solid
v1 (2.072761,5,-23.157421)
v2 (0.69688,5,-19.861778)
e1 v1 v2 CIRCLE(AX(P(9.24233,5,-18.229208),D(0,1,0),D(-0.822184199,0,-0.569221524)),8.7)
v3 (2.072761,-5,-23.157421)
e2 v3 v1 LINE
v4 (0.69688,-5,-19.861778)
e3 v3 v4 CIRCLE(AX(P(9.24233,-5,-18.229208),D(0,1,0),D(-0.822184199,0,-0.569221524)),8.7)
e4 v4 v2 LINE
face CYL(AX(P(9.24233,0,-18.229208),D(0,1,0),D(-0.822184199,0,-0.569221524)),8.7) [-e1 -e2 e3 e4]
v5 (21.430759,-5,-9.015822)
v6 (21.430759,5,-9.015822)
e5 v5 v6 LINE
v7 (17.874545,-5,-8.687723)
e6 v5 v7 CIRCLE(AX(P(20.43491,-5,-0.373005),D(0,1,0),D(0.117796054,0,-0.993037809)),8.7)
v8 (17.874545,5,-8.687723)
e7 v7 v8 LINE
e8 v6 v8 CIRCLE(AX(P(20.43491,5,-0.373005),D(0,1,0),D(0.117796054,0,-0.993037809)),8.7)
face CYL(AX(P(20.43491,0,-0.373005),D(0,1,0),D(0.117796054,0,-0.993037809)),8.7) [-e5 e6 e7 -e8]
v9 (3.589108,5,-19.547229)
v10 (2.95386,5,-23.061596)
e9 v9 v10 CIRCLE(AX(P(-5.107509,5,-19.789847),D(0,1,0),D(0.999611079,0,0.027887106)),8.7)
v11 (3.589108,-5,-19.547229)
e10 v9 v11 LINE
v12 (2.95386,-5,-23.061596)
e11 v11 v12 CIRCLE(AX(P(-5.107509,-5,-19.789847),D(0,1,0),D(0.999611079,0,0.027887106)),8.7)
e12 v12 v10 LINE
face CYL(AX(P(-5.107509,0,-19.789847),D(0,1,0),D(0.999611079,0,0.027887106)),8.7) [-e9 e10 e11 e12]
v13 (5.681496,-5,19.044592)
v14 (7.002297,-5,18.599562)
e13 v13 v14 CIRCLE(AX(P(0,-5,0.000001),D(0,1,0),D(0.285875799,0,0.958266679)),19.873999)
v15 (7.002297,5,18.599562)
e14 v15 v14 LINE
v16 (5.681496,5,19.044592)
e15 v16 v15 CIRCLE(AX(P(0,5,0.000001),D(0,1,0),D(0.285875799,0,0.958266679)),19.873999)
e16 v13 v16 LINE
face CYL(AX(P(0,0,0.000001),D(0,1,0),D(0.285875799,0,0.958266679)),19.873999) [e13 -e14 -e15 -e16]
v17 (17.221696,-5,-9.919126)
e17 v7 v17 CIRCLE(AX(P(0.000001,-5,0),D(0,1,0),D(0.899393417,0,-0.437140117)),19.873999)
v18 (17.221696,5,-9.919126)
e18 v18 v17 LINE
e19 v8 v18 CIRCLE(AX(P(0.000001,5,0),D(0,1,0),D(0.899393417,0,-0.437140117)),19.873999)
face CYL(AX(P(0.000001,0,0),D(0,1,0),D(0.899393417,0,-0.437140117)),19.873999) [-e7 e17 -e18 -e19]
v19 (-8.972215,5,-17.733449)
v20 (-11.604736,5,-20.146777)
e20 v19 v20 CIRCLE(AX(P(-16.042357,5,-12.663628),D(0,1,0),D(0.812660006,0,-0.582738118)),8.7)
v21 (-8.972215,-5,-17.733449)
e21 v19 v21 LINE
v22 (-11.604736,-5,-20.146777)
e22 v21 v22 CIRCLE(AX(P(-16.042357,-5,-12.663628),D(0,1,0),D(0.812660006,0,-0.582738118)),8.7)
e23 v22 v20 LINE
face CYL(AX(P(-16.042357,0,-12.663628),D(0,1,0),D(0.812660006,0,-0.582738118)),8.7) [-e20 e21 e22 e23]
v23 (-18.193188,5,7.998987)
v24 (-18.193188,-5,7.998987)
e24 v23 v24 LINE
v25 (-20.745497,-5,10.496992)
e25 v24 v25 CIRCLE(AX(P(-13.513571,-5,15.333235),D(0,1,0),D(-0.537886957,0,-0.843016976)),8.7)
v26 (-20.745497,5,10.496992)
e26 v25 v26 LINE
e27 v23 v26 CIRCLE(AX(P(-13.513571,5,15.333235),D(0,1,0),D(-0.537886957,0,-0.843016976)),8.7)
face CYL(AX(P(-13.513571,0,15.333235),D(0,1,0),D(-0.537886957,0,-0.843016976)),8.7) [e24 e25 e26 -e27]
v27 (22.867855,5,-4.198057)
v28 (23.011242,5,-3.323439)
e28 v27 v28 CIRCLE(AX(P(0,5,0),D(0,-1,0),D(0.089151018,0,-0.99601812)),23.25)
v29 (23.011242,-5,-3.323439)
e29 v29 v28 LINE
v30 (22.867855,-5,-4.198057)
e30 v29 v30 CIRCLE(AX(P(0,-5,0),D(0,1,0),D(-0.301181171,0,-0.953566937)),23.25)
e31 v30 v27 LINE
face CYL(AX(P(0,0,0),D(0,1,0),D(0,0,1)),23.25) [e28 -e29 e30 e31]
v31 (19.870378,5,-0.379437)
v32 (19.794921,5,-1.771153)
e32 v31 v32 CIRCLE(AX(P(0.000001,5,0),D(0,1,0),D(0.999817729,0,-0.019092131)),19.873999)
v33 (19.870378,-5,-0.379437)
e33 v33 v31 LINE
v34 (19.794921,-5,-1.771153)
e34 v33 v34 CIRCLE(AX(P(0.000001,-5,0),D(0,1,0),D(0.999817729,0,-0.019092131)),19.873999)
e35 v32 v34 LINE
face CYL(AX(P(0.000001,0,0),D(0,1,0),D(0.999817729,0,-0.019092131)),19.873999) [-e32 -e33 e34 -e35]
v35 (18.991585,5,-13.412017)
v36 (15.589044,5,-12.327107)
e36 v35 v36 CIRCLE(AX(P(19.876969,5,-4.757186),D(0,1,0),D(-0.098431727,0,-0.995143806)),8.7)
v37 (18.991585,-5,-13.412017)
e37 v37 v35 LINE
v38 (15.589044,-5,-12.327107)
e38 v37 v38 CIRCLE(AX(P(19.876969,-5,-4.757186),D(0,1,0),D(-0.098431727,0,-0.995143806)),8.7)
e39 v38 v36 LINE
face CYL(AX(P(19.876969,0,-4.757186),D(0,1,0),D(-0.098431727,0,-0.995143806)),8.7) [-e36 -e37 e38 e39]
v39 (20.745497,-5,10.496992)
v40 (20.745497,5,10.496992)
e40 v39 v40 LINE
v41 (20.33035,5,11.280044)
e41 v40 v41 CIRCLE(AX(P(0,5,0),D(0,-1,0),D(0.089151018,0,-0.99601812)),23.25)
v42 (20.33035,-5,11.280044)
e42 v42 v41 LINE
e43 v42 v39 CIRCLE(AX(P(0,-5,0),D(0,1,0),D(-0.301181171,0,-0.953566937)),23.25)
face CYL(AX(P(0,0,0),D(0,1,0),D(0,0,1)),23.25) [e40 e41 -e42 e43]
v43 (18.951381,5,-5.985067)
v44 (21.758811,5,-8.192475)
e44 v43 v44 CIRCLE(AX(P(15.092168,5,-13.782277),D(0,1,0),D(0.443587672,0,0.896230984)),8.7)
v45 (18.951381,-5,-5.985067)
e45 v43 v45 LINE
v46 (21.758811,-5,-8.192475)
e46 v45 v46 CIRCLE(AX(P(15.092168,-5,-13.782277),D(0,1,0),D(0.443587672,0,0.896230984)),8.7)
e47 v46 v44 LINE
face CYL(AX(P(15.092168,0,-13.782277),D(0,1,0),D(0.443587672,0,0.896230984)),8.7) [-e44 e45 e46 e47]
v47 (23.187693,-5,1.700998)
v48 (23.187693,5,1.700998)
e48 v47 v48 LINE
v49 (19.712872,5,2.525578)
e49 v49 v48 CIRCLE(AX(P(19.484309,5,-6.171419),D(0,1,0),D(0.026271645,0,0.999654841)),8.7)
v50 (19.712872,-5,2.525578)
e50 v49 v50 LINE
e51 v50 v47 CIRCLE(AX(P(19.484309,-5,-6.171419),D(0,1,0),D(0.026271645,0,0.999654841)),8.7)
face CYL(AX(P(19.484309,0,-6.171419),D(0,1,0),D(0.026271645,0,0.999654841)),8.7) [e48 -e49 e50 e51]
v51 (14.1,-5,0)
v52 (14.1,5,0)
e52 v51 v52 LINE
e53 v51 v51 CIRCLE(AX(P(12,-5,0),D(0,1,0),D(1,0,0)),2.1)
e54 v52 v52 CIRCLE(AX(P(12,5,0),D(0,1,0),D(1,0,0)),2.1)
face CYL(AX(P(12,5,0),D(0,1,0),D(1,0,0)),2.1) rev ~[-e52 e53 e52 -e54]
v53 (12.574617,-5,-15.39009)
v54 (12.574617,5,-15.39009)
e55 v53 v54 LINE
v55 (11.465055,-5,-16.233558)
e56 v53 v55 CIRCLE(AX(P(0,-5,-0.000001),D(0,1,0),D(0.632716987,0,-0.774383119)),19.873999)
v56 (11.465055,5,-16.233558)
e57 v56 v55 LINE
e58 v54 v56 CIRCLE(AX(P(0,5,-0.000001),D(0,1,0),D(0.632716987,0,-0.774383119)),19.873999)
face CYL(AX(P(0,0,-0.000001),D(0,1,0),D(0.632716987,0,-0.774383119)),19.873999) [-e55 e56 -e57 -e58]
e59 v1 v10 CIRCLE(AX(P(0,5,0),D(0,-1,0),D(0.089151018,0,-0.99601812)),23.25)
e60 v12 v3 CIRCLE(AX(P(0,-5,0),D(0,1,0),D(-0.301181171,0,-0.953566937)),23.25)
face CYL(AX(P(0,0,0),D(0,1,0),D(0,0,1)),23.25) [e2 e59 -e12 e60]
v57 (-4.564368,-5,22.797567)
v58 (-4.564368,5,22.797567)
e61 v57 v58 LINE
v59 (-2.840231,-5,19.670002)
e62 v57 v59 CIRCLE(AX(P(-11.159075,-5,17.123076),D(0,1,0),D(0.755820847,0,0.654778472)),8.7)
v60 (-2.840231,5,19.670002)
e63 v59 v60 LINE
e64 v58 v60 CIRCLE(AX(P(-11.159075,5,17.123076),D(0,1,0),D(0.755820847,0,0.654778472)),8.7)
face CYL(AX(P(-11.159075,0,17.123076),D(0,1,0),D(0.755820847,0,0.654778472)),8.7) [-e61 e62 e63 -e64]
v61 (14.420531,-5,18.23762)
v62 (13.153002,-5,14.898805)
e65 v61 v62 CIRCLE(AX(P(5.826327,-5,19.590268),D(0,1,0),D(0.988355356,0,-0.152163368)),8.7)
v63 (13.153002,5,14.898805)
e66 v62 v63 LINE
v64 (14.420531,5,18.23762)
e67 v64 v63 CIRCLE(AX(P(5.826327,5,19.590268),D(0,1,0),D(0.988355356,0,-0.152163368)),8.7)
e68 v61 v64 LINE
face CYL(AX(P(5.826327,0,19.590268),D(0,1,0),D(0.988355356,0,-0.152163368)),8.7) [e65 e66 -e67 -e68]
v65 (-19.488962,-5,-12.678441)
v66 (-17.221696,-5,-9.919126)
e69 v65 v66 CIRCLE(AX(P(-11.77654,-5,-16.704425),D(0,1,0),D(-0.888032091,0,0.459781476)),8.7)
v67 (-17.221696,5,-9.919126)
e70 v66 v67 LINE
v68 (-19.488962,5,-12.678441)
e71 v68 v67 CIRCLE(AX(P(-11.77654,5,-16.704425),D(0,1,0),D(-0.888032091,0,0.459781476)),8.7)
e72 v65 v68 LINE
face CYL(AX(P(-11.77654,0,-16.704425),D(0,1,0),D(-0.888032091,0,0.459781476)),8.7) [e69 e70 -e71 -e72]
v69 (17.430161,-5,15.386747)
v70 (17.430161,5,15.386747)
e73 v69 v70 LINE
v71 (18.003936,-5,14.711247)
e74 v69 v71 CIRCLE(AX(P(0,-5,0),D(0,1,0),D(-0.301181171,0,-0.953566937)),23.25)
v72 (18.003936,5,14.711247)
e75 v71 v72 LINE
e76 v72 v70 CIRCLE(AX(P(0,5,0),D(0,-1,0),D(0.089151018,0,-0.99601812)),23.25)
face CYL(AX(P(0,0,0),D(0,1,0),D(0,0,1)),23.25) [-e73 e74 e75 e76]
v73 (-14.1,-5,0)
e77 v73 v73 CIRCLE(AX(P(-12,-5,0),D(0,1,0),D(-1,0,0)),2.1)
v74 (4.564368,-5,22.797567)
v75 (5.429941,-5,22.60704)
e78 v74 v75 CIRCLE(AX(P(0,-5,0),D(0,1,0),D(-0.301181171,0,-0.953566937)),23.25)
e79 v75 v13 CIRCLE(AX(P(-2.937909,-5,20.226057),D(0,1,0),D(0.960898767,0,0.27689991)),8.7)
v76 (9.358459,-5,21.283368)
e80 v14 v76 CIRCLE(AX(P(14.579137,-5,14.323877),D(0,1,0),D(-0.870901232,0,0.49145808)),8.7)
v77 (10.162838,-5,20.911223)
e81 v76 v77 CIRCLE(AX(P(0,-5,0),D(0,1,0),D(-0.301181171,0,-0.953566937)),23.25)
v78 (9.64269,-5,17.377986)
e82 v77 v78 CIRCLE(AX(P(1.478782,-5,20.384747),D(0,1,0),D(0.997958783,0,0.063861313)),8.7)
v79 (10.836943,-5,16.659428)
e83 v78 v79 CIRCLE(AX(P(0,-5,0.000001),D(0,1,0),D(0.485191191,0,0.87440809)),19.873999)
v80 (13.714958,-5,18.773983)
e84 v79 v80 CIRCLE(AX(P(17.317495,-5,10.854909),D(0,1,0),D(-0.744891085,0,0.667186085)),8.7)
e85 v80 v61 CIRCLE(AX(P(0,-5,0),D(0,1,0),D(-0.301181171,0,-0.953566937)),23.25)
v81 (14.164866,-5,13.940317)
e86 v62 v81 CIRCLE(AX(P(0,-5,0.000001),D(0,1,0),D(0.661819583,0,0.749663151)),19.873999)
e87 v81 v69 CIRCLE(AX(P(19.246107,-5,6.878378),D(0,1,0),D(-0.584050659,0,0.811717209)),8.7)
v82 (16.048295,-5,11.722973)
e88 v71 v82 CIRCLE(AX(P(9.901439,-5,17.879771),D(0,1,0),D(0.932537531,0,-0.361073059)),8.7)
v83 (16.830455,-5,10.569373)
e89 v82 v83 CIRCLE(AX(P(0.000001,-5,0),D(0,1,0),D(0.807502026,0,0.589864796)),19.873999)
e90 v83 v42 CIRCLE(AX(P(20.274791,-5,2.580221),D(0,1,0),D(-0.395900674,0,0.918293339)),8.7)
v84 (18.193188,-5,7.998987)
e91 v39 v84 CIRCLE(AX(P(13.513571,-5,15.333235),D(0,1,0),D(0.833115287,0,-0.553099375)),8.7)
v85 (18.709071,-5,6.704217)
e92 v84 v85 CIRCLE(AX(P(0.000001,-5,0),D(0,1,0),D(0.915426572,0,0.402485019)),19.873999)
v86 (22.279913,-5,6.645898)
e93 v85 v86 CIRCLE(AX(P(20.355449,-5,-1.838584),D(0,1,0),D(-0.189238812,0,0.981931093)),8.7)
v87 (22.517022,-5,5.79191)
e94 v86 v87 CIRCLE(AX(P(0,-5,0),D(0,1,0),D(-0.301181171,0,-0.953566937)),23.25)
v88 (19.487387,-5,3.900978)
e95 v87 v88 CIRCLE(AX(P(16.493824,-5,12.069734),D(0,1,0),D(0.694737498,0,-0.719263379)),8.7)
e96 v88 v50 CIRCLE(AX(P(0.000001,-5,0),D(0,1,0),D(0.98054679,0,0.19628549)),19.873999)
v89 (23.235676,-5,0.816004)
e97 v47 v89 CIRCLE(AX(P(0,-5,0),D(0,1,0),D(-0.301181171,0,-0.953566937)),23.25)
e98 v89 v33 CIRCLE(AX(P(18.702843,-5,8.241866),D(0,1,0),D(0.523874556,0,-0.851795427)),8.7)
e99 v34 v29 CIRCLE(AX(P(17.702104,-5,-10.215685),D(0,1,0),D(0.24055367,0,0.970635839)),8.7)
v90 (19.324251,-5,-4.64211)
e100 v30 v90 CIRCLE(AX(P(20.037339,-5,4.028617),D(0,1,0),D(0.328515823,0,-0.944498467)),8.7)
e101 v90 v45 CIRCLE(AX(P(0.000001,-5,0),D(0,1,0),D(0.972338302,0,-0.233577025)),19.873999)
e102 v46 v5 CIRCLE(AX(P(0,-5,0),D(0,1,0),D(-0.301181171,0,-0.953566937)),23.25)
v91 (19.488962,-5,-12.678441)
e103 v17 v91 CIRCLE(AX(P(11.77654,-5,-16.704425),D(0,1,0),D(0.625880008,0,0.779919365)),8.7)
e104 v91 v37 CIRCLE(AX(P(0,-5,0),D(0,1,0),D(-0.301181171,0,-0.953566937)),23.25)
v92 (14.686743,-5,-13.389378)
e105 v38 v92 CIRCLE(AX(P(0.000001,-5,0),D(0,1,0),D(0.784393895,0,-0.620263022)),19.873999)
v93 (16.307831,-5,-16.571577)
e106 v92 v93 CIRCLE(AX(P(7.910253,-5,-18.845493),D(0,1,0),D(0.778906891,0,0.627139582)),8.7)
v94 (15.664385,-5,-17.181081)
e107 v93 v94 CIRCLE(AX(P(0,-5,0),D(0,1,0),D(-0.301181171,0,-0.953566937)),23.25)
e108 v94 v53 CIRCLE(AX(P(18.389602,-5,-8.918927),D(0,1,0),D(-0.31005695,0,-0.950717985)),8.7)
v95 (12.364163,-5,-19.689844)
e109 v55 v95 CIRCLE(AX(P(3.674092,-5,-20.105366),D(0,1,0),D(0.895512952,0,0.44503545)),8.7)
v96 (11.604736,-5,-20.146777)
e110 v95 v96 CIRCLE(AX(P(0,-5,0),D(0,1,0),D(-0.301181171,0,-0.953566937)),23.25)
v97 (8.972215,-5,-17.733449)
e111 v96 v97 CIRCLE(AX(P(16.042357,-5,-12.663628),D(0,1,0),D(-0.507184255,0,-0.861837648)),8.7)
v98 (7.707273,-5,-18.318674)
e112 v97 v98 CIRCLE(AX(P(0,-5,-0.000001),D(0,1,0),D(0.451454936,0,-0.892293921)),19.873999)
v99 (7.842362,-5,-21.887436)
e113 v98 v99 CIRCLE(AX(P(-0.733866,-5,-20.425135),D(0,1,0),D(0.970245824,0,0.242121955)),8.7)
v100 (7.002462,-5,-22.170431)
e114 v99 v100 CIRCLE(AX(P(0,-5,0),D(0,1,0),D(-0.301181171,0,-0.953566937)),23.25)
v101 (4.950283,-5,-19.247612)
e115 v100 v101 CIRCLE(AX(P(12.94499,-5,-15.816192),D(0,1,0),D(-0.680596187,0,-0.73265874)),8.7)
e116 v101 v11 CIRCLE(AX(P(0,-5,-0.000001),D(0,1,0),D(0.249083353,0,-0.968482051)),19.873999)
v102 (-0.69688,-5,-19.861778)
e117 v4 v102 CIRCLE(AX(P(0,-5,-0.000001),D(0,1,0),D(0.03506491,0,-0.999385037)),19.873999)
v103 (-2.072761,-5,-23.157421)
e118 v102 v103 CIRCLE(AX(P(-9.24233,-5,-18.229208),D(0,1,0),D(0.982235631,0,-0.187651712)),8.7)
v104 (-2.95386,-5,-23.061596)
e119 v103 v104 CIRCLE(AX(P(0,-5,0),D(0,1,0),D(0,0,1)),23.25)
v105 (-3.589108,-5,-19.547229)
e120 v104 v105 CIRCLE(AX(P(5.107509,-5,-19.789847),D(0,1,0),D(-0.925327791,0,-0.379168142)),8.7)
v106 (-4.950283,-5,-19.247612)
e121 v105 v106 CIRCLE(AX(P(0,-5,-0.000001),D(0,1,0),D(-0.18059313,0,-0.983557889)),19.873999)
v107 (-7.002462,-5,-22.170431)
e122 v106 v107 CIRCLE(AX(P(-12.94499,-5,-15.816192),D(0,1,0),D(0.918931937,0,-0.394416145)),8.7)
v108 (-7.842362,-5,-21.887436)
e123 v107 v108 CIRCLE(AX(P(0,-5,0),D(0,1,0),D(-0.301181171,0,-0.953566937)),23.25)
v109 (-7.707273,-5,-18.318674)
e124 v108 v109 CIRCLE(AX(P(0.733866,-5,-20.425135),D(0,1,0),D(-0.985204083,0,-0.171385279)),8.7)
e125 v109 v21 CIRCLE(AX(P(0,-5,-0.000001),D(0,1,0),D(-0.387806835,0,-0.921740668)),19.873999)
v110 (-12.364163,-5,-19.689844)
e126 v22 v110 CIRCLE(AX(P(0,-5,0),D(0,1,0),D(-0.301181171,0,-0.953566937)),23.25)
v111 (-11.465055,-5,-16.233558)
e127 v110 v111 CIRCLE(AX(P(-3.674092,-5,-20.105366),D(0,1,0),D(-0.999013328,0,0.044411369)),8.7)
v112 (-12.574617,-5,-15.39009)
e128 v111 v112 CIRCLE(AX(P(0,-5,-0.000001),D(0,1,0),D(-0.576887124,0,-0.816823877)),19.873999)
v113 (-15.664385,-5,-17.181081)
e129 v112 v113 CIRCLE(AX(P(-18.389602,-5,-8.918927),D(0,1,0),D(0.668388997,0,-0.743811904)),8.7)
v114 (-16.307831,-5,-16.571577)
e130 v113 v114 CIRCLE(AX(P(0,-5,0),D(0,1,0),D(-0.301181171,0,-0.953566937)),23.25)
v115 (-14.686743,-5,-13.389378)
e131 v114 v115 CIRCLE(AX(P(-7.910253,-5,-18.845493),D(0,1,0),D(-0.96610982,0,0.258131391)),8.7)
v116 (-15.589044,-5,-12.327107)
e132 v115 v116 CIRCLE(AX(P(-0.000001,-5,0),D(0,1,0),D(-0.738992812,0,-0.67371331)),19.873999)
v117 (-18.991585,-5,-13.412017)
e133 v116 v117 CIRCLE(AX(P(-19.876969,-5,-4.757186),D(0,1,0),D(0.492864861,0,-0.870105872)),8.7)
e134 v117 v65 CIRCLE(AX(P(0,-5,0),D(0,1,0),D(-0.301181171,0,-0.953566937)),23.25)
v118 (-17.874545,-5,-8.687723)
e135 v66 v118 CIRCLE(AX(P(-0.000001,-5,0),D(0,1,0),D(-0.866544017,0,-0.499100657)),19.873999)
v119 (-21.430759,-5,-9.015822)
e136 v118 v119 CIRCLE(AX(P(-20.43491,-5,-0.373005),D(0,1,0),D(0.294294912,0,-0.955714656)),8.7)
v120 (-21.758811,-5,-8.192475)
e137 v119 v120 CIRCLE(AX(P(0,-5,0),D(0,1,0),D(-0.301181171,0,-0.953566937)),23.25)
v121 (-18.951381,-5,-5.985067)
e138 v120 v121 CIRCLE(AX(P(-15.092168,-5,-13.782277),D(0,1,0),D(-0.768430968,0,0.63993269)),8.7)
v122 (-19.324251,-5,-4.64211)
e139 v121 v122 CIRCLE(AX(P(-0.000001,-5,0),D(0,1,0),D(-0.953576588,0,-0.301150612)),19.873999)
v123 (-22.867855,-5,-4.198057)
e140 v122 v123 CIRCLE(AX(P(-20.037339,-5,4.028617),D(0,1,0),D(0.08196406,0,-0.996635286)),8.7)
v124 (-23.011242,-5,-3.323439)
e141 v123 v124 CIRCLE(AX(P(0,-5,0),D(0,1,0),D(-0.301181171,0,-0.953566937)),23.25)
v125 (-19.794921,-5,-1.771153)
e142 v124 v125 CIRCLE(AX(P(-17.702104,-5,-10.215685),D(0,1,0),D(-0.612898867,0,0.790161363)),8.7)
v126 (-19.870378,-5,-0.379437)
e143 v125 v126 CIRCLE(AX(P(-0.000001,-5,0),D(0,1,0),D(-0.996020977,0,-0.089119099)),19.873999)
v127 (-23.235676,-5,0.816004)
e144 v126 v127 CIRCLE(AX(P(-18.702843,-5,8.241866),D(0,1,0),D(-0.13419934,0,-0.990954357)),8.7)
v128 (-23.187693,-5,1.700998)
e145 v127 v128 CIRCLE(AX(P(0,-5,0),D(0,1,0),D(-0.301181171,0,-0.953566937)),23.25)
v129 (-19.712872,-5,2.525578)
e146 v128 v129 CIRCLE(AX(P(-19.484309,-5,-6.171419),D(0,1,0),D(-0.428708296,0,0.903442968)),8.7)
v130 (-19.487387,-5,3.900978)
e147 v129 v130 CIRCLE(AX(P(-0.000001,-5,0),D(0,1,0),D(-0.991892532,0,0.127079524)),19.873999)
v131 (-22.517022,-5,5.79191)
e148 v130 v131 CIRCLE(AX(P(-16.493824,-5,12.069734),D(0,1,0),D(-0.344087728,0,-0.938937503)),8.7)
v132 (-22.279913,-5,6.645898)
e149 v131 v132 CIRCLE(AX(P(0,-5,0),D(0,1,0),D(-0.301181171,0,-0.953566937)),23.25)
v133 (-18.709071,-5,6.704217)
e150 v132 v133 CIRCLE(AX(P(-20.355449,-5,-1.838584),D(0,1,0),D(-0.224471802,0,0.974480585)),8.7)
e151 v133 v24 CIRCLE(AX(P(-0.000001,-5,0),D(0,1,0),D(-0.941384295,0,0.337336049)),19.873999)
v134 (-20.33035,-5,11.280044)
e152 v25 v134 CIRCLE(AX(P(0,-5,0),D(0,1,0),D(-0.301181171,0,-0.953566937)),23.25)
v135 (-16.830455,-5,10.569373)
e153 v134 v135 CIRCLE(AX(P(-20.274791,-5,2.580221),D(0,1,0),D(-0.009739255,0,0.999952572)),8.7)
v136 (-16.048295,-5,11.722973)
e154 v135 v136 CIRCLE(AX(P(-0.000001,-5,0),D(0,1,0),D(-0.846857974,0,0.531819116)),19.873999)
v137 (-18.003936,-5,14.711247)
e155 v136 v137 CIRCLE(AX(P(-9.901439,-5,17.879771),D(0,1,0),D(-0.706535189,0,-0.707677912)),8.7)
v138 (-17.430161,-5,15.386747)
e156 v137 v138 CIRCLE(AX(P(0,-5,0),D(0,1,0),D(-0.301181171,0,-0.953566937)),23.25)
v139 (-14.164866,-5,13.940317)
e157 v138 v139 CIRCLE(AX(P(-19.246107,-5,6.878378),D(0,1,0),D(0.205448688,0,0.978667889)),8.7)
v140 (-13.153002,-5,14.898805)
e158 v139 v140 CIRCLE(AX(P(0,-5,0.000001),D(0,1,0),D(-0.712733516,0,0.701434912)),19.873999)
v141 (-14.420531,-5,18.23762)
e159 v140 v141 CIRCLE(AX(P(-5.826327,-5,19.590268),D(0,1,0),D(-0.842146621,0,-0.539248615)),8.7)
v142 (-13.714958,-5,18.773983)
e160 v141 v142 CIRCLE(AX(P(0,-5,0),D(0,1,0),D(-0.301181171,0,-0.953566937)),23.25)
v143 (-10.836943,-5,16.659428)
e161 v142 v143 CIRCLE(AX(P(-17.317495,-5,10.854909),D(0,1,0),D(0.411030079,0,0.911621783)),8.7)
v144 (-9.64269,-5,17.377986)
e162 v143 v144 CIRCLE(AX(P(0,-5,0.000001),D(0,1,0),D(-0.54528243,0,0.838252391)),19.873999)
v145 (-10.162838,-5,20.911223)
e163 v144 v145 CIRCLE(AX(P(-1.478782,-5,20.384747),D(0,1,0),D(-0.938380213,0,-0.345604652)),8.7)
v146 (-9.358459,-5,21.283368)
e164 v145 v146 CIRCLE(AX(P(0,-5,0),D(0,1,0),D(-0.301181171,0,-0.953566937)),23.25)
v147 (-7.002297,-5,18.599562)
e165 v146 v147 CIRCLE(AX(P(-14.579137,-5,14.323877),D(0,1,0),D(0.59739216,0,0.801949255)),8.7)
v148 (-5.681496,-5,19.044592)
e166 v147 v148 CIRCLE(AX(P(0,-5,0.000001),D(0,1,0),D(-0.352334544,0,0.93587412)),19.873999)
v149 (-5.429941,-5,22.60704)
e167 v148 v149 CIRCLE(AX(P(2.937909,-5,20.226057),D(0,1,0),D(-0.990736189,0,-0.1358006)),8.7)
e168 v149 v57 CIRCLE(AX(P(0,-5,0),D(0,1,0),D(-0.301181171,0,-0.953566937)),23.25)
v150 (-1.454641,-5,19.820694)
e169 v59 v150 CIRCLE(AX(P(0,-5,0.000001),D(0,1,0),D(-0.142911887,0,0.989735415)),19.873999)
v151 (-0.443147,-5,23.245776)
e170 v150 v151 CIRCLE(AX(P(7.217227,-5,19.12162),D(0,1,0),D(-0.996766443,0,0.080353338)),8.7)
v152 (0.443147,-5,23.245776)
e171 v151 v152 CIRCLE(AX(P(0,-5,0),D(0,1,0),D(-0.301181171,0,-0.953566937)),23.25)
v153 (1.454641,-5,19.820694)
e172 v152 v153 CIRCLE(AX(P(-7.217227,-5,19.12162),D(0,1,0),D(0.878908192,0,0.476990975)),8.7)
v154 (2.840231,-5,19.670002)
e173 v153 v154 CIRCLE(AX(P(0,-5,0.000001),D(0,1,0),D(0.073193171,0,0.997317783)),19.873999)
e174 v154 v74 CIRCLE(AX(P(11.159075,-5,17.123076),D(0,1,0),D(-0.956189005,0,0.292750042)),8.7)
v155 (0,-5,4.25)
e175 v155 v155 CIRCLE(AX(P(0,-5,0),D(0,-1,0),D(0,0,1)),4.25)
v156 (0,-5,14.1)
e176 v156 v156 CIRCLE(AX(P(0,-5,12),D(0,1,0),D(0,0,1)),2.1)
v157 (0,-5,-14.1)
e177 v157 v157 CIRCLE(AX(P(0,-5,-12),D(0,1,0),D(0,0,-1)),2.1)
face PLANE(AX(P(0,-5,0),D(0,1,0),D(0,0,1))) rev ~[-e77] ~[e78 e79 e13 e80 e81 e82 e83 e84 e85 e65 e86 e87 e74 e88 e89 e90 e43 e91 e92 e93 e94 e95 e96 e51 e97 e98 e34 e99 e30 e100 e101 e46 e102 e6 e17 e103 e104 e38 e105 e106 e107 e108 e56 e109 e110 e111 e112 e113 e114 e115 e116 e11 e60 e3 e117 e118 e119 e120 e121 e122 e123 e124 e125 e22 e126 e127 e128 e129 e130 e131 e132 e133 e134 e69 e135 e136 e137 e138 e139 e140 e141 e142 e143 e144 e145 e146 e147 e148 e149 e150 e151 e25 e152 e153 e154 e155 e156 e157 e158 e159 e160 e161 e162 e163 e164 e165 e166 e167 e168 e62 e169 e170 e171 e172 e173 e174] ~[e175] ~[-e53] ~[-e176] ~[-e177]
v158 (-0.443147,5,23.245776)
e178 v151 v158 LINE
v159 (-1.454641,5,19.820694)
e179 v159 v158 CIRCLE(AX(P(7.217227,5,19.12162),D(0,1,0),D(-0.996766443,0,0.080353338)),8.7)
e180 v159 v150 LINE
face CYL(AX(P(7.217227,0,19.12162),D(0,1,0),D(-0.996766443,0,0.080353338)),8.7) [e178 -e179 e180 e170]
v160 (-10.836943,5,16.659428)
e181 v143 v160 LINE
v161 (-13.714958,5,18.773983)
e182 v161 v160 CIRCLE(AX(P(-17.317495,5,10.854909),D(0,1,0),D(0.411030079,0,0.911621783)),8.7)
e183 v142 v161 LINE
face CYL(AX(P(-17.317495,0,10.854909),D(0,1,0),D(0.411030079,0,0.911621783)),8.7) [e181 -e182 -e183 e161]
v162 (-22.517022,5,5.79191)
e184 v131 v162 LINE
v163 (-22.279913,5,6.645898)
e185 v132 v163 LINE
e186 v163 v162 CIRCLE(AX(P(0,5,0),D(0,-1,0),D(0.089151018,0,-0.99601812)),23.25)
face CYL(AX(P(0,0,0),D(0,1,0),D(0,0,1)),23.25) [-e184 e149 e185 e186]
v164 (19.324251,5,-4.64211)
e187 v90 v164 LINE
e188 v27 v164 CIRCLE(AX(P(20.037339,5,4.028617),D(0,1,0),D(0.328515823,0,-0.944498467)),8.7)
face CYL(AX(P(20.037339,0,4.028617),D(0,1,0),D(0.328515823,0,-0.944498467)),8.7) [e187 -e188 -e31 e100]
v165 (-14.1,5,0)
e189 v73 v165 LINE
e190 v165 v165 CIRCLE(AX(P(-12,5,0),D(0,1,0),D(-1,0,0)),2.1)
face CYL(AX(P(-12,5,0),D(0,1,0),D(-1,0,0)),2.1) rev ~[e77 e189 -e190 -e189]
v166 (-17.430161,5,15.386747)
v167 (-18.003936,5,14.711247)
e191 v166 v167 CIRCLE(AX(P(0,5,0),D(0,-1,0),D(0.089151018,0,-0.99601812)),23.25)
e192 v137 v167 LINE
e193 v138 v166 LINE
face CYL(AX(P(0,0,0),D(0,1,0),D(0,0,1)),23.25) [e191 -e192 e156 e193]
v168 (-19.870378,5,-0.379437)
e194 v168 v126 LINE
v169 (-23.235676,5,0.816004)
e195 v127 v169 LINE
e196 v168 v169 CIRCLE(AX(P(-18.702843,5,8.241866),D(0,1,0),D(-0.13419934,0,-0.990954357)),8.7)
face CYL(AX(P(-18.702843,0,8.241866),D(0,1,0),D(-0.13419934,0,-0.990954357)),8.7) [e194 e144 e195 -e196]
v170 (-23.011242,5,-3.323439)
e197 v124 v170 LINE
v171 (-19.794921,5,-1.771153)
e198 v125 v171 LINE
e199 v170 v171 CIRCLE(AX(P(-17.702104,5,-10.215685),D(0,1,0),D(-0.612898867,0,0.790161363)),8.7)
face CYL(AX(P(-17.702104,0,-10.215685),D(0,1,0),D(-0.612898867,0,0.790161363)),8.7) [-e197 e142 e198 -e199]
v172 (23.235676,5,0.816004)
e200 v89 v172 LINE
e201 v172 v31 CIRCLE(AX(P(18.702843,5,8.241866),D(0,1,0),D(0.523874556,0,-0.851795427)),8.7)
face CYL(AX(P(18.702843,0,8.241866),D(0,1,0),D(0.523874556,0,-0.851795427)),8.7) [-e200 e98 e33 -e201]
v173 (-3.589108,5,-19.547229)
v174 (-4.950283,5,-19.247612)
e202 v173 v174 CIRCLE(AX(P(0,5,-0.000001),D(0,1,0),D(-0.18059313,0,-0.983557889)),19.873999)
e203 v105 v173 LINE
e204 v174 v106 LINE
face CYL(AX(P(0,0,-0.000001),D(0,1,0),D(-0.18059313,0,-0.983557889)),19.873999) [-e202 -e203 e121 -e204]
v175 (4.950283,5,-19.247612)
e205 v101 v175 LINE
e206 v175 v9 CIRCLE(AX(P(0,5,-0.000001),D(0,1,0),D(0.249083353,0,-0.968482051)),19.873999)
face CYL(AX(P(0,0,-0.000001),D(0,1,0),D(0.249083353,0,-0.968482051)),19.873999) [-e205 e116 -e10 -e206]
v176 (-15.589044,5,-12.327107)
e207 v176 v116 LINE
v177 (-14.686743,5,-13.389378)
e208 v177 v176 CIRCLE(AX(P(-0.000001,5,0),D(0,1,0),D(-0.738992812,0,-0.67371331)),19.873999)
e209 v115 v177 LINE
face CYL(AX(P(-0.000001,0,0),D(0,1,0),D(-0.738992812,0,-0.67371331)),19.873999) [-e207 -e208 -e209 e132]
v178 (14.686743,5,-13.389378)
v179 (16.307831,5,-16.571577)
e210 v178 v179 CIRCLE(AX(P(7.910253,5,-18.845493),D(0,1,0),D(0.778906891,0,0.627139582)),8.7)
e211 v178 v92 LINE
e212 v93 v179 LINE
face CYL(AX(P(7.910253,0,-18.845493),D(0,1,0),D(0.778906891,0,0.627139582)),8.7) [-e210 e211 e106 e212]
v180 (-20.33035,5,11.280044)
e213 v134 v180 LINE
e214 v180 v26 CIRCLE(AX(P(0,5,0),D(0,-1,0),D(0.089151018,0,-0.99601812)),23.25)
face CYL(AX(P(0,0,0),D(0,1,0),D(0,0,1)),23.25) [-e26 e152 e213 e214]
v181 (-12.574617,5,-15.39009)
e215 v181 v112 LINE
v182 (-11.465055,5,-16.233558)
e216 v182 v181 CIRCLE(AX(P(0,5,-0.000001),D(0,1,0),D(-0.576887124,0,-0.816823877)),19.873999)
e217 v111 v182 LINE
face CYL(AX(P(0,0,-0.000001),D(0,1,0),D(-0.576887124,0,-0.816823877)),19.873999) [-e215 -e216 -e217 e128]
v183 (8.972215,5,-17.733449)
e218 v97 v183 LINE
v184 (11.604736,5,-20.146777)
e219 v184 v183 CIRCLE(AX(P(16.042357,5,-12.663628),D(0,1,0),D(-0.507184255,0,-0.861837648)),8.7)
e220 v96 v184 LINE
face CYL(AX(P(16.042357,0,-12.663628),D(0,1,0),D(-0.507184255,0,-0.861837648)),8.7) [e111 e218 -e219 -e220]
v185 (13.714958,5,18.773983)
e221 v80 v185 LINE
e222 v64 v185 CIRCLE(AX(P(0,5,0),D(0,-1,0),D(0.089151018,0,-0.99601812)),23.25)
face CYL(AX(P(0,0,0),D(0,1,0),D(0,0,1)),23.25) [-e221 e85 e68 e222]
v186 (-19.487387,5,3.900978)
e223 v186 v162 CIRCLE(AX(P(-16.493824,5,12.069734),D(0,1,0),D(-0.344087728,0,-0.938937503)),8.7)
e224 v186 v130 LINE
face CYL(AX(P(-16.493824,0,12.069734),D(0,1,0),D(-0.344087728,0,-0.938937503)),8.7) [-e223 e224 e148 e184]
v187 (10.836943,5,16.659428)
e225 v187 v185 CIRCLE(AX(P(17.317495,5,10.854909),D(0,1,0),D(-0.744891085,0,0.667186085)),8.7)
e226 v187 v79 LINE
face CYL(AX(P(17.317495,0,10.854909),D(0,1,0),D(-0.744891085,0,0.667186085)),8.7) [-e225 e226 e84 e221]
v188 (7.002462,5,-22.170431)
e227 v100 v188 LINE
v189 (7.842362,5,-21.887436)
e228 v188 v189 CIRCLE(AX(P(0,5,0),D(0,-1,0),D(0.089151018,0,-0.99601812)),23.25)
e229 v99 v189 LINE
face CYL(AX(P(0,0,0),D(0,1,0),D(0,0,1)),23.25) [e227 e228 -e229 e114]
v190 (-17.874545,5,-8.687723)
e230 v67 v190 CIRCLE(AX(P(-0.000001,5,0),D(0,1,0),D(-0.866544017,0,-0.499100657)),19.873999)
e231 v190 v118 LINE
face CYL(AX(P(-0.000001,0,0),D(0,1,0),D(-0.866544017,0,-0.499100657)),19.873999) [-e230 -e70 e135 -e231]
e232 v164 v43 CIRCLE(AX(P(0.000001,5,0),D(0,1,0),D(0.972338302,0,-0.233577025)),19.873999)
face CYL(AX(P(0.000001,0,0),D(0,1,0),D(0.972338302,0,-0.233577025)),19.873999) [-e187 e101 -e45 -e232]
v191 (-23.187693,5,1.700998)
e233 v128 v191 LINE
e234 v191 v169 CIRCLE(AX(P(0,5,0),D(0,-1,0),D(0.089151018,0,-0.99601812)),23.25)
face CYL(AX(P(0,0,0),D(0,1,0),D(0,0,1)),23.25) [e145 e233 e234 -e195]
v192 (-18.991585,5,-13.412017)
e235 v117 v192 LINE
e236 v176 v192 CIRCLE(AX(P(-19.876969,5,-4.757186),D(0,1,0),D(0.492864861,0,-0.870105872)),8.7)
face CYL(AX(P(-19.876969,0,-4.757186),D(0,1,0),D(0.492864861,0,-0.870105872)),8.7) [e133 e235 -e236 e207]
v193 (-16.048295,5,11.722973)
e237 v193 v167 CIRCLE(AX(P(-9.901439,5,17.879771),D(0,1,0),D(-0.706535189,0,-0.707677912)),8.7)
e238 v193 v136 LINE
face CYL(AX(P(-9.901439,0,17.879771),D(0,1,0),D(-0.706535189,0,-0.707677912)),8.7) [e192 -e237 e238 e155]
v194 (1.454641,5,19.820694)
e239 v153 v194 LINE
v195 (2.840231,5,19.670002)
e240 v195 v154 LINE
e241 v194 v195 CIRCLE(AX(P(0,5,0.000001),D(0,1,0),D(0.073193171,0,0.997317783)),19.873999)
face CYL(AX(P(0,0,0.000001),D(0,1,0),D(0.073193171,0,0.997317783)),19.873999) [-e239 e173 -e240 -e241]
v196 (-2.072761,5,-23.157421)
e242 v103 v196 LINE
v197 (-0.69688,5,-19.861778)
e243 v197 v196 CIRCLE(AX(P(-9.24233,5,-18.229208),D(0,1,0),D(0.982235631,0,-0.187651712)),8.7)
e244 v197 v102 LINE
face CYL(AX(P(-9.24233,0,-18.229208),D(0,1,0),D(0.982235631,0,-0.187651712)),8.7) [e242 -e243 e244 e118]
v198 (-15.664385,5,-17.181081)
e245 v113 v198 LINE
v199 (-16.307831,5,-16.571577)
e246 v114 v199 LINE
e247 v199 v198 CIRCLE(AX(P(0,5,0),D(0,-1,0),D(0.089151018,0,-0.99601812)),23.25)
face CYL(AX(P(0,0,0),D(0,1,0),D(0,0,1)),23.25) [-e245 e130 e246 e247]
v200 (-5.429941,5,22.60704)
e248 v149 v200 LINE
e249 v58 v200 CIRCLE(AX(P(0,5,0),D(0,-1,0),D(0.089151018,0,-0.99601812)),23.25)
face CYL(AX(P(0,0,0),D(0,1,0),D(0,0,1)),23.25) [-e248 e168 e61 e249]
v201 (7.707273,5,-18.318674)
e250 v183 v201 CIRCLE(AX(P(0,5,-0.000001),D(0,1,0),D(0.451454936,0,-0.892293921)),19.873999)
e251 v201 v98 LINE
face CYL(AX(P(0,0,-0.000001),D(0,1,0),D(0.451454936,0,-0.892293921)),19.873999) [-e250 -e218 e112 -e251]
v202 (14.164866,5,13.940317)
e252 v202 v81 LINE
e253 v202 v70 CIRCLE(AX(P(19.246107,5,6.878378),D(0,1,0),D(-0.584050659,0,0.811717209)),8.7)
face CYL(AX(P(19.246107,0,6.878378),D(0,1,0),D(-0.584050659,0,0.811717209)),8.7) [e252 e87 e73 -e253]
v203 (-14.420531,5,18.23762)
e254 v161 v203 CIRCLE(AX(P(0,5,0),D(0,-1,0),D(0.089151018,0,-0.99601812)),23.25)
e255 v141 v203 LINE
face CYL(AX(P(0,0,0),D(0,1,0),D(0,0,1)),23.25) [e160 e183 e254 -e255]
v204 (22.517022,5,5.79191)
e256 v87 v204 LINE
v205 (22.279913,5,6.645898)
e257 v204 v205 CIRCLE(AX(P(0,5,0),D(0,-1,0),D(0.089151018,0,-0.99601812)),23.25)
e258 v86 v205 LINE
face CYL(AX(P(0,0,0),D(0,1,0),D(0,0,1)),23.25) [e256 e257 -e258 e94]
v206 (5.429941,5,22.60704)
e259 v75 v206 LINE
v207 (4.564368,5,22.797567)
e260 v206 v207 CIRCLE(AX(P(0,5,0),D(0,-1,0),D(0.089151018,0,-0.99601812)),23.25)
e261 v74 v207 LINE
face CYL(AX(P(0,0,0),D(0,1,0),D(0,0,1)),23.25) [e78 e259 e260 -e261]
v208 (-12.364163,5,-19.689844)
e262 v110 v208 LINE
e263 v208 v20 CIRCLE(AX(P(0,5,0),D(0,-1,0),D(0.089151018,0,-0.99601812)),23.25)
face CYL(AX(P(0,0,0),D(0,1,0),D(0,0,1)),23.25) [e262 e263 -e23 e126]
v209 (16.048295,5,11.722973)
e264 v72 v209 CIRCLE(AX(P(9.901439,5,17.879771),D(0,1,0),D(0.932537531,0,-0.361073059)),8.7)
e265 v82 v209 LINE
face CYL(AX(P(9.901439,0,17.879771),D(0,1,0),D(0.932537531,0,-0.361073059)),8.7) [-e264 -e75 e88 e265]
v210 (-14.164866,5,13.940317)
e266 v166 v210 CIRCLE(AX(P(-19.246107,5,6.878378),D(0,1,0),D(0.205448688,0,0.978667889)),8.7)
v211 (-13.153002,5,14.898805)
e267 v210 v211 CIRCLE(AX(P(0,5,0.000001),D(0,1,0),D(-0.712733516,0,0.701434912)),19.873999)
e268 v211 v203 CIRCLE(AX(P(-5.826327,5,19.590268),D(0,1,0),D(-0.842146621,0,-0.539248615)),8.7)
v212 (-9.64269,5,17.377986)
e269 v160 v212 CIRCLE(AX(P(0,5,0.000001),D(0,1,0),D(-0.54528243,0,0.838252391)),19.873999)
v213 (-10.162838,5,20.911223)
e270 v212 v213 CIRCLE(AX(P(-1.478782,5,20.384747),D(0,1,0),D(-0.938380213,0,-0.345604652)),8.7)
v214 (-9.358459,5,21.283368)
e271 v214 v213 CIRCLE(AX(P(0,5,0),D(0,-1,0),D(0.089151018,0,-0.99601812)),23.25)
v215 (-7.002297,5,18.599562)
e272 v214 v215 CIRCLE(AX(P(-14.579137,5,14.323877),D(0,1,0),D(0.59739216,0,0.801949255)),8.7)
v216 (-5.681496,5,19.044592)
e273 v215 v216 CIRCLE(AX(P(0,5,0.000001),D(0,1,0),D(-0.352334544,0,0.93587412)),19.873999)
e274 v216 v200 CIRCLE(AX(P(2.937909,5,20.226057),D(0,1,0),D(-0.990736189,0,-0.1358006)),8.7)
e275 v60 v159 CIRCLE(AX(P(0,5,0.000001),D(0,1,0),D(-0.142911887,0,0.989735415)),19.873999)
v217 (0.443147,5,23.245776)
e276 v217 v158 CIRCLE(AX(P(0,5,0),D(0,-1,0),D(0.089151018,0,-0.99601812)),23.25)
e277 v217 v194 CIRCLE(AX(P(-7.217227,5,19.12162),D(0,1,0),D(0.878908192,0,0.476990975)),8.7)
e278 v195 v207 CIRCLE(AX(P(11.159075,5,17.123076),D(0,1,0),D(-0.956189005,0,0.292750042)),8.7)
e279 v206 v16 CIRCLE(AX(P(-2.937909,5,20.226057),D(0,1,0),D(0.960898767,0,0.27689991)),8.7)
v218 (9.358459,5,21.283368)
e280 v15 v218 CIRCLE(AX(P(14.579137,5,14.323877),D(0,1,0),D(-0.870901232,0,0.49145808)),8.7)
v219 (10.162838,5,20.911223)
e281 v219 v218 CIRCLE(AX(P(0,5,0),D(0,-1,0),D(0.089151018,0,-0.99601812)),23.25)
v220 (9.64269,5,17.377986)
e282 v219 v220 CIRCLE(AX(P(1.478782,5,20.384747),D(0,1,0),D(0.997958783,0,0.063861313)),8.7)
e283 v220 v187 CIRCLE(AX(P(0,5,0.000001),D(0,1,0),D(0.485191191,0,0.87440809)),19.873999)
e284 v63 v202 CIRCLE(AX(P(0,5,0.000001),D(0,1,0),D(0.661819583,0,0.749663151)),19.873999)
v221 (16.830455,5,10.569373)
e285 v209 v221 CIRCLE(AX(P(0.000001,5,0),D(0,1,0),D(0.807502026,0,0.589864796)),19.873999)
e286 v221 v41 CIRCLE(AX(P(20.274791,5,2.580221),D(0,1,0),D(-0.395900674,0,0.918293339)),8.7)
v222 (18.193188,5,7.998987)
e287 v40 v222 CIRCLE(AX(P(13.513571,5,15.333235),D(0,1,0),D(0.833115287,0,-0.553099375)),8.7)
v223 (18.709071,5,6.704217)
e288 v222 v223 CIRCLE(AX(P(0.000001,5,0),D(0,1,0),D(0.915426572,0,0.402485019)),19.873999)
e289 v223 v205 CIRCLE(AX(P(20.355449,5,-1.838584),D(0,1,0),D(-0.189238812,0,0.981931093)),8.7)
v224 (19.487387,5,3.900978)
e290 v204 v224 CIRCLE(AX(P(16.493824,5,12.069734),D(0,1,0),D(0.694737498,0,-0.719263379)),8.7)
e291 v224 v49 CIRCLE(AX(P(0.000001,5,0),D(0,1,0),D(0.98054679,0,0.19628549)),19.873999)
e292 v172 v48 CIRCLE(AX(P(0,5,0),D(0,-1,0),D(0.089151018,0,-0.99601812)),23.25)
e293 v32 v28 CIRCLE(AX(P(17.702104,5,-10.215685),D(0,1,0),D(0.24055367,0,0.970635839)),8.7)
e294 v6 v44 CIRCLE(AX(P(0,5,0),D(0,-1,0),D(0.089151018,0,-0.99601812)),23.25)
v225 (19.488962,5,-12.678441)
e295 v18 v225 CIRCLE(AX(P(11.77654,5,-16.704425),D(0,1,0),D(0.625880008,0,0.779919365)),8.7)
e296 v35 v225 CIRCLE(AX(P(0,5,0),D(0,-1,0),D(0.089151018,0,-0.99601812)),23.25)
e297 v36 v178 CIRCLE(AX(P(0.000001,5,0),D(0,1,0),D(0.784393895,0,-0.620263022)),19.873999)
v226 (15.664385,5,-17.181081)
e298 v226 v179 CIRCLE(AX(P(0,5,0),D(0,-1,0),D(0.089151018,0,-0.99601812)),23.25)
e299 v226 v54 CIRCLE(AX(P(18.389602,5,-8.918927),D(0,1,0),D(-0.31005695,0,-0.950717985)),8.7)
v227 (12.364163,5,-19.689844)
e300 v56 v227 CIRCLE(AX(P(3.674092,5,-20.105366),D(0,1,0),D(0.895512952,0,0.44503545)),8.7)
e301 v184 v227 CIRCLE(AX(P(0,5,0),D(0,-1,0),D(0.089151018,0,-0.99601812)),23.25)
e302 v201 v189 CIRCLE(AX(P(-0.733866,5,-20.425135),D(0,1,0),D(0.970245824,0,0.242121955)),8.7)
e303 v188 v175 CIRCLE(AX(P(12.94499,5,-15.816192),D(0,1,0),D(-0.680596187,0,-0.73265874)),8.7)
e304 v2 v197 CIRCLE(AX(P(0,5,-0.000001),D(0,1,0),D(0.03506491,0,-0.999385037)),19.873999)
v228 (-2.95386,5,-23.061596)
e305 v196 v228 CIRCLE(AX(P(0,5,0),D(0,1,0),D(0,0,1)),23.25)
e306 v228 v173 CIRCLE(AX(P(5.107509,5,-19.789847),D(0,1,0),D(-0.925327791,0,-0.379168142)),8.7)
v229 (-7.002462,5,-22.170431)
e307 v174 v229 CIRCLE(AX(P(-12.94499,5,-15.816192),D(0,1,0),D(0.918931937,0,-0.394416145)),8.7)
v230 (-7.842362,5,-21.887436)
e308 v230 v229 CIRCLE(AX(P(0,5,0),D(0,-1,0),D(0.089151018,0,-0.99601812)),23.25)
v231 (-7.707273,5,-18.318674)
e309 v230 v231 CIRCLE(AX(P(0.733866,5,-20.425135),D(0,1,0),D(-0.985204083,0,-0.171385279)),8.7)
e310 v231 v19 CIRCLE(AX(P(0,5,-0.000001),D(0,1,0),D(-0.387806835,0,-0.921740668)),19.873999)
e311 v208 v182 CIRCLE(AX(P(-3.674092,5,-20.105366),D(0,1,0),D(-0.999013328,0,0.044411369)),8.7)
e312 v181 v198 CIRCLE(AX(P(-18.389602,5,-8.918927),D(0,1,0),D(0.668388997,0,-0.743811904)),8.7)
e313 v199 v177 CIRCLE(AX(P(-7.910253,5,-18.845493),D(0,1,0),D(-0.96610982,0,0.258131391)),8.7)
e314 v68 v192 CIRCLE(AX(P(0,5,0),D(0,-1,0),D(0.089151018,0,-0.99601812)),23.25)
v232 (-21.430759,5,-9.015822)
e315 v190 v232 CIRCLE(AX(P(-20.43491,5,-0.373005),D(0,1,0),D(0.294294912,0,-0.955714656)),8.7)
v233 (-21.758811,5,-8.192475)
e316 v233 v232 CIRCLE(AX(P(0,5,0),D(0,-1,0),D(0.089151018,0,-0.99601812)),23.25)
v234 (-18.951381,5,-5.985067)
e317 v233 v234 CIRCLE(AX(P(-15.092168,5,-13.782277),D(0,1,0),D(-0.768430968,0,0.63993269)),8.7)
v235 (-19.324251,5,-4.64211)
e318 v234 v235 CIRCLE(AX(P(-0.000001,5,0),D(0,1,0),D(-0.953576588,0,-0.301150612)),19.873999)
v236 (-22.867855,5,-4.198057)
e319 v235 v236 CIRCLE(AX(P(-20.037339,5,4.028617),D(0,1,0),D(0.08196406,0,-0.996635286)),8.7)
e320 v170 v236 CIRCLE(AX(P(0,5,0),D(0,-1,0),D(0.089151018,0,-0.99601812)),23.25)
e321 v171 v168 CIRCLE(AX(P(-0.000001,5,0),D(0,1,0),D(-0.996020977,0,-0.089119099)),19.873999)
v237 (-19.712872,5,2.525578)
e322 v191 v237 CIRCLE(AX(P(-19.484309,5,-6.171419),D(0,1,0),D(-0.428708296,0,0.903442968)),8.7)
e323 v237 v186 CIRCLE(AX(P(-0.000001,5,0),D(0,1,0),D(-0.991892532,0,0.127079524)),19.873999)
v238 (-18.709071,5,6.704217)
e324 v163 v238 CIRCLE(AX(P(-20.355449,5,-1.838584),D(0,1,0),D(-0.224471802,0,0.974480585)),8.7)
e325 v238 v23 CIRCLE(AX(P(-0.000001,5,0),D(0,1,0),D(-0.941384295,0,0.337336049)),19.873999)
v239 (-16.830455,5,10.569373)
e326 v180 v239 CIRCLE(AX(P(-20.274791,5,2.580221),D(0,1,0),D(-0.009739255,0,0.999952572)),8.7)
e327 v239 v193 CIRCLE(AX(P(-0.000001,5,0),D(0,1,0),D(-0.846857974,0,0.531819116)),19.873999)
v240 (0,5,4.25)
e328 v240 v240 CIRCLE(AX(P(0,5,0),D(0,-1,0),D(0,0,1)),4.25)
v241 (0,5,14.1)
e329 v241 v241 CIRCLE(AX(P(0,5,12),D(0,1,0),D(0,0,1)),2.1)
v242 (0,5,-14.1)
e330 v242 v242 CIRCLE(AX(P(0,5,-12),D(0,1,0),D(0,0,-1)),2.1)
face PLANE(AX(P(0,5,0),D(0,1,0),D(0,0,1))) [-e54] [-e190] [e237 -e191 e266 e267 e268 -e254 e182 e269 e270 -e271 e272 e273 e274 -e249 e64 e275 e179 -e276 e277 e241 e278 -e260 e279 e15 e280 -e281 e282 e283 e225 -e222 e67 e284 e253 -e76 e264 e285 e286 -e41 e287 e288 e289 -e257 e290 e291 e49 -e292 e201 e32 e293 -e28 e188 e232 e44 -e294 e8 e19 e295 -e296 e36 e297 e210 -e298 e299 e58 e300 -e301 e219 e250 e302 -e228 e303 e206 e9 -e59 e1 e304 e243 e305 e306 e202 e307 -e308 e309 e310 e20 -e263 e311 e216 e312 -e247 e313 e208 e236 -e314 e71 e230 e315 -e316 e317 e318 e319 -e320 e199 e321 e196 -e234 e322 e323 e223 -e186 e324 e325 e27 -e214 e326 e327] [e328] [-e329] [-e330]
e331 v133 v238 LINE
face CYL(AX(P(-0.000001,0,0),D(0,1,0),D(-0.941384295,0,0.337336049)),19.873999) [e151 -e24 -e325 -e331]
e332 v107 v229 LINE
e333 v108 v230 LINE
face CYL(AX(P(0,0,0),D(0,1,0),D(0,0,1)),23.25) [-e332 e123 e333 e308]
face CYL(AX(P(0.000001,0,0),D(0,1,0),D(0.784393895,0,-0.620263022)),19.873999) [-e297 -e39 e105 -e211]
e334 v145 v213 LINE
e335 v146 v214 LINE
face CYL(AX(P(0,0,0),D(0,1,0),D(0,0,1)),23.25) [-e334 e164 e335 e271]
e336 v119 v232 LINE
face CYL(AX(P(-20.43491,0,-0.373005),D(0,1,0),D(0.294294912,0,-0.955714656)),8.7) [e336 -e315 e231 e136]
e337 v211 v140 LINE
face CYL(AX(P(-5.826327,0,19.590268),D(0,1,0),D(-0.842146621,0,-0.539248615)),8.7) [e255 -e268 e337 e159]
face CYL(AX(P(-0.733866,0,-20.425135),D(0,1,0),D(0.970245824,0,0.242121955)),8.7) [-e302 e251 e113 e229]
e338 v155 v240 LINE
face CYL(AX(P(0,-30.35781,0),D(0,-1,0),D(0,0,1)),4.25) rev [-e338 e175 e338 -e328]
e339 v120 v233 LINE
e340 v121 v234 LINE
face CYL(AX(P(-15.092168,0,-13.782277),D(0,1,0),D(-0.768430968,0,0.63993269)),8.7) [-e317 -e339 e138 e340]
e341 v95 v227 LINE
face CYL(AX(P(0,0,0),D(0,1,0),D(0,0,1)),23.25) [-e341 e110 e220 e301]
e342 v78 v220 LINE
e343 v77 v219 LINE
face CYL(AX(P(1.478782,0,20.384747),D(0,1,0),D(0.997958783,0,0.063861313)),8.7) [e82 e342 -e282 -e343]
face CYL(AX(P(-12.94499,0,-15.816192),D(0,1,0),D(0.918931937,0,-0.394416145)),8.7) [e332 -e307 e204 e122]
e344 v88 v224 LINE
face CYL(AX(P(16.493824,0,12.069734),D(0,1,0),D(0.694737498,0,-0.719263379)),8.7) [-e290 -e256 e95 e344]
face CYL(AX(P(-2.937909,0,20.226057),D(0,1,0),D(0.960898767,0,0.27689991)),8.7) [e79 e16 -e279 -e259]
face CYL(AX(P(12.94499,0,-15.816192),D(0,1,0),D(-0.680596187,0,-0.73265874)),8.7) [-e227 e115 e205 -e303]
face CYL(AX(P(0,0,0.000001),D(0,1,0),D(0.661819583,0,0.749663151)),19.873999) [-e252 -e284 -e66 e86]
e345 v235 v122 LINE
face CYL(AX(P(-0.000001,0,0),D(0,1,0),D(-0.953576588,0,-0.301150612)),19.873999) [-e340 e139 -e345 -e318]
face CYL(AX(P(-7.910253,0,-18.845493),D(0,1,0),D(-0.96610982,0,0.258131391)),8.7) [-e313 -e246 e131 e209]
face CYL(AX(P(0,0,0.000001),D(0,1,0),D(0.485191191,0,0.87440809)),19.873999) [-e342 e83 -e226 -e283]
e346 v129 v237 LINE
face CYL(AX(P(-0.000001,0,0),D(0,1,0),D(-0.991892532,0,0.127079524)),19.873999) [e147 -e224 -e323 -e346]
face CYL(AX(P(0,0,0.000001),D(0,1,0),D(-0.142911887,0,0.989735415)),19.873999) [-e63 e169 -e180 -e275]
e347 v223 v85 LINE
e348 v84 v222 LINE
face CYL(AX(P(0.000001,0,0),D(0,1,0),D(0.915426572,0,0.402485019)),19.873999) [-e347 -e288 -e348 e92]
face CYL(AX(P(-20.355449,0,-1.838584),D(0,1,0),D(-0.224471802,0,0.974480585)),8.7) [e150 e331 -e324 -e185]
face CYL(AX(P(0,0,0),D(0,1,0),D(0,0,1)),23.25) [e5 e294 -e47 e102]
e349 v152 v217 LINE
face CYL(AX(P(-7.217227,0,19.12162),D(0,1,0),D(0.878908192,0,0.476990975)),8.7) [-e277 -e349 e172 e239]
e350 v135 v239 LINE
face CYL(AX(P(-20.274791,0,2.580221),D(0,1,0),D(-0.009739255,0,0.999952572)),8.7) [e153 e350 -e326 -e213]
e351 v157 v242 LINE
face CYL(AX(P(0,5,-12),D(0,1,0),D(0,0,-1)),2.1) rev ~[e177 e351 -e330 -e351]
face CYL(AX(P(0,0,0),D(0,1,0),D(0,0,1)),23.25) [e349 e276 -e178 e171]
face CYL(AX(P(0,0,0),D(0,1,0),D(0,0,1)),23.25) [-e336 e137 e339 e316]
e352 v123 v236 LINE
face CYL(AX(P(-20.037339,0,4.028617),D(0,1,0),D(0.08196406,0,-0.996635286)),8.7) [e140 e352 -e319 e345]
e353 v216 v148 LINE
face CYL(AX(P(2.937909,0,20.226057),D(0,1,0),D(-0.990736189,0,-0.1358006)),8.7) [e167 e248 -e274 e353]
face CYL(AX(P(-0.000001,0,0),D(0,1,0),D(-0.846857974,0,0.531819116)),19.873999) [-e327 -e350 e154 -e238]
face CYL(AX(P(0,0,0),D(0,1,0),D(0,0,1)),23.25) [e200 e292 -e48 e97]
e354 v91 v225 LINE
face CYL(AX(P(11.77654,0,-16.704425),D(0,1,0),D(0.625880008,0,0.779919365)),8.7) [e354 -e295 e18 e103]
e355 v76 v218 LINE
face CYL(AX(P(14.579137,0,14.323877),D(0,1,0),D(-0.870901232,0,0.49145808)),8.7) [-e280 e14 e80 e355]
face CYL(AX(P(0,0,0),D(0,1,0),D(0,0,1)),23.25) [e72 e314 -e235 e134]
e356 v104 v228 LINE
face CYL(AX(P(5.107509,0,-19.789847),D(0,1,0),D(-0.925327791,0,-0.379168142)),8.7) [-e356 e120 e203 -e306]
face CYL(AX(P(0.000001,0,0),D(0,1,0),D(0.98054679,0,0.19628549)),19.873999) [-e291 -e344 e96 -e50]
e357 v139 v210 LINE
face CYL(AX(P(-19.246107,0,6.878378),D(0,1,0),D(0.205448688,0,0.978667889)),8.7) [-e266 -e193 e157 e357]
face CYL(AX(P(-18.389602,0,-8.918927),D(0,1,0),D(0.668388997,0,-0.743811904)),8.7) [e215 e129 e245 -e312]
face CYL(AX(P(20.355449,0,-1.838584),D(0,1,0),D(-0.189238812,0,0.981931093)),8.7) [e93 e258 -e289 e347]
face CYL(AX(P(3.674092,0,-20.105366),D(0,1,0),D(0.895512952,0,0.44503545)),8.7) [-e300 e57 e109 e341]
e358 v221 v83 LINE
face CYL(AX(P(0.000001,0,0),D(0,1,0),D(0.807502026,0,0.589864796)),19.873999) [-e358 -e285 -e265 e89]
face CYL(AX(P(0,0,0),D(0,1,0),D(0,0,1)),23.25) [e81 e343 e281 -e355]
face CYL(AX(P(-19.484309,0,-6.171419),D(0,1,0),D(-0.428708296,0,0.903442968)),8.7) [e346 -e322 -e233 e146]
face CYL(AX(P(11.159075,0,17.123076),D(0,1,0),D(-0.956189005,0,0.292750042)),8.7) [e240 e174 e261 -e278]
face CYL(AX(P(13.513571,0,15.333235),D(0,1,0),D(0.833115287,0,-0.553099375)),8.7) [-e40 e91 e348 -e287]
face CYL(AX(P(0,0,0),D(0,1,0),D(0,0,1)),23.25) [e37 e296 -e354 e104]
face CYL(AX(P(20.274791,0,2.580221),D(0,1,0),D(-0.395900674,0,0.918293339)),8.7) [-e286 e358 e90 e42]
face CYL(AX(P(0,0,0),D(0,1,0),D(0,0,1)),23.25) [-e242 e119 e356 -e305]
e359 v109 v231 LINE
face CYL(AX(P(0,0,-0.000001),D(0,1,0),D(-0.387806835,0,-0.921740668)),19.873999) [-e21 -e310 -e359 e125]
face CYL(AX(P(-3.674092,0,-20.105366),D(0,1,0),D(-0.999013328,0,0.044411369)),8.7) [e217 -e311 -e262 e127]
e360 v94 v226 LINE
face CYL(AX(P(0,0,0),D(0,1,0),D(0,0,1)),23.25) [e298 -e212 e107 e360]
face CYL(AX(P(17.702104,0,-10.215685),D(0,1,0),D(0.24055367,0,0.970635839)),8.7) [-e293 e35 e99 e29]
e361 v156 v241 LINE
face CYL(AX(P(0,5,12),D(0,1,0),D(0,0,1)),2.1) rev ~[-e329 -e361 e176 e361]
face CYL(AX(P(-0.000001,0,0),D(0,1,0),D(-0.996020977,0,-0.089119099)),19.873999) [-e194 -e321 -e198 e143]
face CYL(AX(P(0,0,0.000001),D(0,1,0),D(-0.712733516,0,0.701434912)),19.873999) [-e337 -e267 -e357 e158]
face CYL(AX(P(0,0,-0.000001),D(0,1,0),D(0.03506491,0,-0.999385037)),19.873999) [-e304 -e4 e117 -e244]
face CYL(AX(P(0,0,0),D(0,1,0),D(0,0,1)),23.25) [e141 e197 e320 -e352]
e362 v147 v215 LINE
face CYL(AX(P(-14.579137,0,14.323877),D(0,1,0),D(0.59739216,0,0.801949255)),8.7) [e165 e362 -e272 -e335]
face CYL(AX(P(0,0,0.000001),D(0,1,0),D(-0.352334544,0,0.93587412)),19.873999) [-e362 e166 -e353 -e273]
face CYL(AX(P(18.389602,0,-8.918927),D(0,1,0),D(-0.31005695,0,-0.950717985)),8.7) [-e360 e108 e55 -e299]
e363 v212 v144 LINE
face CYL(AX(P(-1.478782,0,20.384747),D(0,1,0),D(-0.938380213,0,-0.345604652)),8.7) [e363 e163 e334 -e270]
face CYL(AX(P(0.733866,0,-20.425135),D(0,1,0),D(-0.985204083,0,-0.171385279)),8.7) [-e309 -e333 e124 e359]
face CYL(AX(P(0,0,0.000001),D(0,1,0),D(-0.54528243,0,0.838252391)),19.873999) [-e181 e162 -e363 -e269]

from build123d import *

# Parameters (mm, degrees)
SKETCH1_R               = 23.25
BOSS_EXTRUDE1_DEPTH     = 5
CUT_EXTRUDE1_DEPTH      = 34.258457571
CIRPATTERN1_COUNT       = 29
CUT_EXTRUDE2_DEPTH      = 35.357810434
CUT_EXTRUDE2_DEPTH_BACK = 35.357810434
SKETCH3_R               = 4.25
SKETCH4_R               = 2.1
CUT_EXTRUDE3_DEPTH      = 35.357810434
CIRPATTERN2_COUNT       = 4


with BuildPart() as part:
    # Sketch1 → Boss-Extrude1 (new, symmetric)
    with BuildSketch(Plane(origin=(0, 0, 0), x_dir=(1, 0, 0), z_dir=(0, 1, 0))):
        with Locations(Location((0, 0, 0), (0, 0, 270))):
            Circle(SKETCH1_R)
    extrude(amount=BOSS_EXTRUDE1_DEPTH, both=True)

    # Sketch2 → Cut-Extrude1 (cut, symmetric)
    with BuildSketch(Plane(origin=(0, 0, 0), x_dir=(1, 0, 0), z_dir=(0, 1, 0))):
        with BuildLine():
            ThreePointArc((0.696879992, 19.861778225), (0, 19.874), (-0.696879992, 19.861778225))
            ThreePointArc((-0.696879992, 19.861778225), (-1.219525976, 21.594414991), (-2.089327454, 23.181435589))
            ThreePointArc((-2.089327454, 23.181435589), (0, 23.2754), (2.089327454, 23.181435589))
            ThreePointArc((2.089327454, 23.181435589), (1.219525976, 21.594414991), (0.696879992, 19.861778225))
        make_face()
    cut_extrude1 = extrude(amount=CUT_EXTRUDE1_DEPTH, both=True, mode=Mode.SUBTRACT)

    # CirPattern1: Cut-Extrude1 ×29 about axis
    cirpattern1_axis = Axis((0, 0, 0), (0, 1, 0))
    for i in range(1, CIRPATTERN1_COUNT):
        add(cut_extrude1.rotate(cirpattern1_axis, i * 360 / CIRPATTERN1_COUNT), mode=Mode.SUBTRACT)

    # Sketch3 → Cut-Extrude2 (cut, two sides: drawn at the far end of the back side and taken through both)
    with BuildSketch(Plane(origin=(0, 5, 0), x_dir=(1, 0, 0), z_dir=(0, 1, 0)).offset(-CUT_EXTRUDE2_DEPTH_BACK)):
        with Locations(Location((0, 0, 0), (0, 0, 270))):
            Circle(SKETCH3_R)
    extrude(amount=CUT_EXTRUDE2_DEPTH + CUT_EXTRUDE2_DEPTH_BACK, mode=Mode.SUBTRACT)

    # Sketch4 → Cut-Extrude3 (cut, symmetric)
    with BuildSketch(Plane(origin=(0, 5, 0), x_dir=(1, 0, 0), z_dir=(0, 1, 0))):
        with Locations(Location((0, -12, 0), (0, 0, 270))):
            Circle(SKETCH4_R)
    cut_extrude3 = extrude(amount=CUT_EXTRUDE3_DEPTH, both=True, mode=Mode.SUBTRACT)

    # CirPattern2: Cut-Extrude3 ×4 about axis
    cirpattern2_axis = Axis((0, 0, 0), (0, 1, 0))
    for i in range(1, CIRPATTERN2_COUNT):
        add(cut_extrude3.rotate(cirpattern2_axis, i * 360 / CIRPATTERN2_COUNT), mode=Mode.SUBTRACT)


solid = part.part
